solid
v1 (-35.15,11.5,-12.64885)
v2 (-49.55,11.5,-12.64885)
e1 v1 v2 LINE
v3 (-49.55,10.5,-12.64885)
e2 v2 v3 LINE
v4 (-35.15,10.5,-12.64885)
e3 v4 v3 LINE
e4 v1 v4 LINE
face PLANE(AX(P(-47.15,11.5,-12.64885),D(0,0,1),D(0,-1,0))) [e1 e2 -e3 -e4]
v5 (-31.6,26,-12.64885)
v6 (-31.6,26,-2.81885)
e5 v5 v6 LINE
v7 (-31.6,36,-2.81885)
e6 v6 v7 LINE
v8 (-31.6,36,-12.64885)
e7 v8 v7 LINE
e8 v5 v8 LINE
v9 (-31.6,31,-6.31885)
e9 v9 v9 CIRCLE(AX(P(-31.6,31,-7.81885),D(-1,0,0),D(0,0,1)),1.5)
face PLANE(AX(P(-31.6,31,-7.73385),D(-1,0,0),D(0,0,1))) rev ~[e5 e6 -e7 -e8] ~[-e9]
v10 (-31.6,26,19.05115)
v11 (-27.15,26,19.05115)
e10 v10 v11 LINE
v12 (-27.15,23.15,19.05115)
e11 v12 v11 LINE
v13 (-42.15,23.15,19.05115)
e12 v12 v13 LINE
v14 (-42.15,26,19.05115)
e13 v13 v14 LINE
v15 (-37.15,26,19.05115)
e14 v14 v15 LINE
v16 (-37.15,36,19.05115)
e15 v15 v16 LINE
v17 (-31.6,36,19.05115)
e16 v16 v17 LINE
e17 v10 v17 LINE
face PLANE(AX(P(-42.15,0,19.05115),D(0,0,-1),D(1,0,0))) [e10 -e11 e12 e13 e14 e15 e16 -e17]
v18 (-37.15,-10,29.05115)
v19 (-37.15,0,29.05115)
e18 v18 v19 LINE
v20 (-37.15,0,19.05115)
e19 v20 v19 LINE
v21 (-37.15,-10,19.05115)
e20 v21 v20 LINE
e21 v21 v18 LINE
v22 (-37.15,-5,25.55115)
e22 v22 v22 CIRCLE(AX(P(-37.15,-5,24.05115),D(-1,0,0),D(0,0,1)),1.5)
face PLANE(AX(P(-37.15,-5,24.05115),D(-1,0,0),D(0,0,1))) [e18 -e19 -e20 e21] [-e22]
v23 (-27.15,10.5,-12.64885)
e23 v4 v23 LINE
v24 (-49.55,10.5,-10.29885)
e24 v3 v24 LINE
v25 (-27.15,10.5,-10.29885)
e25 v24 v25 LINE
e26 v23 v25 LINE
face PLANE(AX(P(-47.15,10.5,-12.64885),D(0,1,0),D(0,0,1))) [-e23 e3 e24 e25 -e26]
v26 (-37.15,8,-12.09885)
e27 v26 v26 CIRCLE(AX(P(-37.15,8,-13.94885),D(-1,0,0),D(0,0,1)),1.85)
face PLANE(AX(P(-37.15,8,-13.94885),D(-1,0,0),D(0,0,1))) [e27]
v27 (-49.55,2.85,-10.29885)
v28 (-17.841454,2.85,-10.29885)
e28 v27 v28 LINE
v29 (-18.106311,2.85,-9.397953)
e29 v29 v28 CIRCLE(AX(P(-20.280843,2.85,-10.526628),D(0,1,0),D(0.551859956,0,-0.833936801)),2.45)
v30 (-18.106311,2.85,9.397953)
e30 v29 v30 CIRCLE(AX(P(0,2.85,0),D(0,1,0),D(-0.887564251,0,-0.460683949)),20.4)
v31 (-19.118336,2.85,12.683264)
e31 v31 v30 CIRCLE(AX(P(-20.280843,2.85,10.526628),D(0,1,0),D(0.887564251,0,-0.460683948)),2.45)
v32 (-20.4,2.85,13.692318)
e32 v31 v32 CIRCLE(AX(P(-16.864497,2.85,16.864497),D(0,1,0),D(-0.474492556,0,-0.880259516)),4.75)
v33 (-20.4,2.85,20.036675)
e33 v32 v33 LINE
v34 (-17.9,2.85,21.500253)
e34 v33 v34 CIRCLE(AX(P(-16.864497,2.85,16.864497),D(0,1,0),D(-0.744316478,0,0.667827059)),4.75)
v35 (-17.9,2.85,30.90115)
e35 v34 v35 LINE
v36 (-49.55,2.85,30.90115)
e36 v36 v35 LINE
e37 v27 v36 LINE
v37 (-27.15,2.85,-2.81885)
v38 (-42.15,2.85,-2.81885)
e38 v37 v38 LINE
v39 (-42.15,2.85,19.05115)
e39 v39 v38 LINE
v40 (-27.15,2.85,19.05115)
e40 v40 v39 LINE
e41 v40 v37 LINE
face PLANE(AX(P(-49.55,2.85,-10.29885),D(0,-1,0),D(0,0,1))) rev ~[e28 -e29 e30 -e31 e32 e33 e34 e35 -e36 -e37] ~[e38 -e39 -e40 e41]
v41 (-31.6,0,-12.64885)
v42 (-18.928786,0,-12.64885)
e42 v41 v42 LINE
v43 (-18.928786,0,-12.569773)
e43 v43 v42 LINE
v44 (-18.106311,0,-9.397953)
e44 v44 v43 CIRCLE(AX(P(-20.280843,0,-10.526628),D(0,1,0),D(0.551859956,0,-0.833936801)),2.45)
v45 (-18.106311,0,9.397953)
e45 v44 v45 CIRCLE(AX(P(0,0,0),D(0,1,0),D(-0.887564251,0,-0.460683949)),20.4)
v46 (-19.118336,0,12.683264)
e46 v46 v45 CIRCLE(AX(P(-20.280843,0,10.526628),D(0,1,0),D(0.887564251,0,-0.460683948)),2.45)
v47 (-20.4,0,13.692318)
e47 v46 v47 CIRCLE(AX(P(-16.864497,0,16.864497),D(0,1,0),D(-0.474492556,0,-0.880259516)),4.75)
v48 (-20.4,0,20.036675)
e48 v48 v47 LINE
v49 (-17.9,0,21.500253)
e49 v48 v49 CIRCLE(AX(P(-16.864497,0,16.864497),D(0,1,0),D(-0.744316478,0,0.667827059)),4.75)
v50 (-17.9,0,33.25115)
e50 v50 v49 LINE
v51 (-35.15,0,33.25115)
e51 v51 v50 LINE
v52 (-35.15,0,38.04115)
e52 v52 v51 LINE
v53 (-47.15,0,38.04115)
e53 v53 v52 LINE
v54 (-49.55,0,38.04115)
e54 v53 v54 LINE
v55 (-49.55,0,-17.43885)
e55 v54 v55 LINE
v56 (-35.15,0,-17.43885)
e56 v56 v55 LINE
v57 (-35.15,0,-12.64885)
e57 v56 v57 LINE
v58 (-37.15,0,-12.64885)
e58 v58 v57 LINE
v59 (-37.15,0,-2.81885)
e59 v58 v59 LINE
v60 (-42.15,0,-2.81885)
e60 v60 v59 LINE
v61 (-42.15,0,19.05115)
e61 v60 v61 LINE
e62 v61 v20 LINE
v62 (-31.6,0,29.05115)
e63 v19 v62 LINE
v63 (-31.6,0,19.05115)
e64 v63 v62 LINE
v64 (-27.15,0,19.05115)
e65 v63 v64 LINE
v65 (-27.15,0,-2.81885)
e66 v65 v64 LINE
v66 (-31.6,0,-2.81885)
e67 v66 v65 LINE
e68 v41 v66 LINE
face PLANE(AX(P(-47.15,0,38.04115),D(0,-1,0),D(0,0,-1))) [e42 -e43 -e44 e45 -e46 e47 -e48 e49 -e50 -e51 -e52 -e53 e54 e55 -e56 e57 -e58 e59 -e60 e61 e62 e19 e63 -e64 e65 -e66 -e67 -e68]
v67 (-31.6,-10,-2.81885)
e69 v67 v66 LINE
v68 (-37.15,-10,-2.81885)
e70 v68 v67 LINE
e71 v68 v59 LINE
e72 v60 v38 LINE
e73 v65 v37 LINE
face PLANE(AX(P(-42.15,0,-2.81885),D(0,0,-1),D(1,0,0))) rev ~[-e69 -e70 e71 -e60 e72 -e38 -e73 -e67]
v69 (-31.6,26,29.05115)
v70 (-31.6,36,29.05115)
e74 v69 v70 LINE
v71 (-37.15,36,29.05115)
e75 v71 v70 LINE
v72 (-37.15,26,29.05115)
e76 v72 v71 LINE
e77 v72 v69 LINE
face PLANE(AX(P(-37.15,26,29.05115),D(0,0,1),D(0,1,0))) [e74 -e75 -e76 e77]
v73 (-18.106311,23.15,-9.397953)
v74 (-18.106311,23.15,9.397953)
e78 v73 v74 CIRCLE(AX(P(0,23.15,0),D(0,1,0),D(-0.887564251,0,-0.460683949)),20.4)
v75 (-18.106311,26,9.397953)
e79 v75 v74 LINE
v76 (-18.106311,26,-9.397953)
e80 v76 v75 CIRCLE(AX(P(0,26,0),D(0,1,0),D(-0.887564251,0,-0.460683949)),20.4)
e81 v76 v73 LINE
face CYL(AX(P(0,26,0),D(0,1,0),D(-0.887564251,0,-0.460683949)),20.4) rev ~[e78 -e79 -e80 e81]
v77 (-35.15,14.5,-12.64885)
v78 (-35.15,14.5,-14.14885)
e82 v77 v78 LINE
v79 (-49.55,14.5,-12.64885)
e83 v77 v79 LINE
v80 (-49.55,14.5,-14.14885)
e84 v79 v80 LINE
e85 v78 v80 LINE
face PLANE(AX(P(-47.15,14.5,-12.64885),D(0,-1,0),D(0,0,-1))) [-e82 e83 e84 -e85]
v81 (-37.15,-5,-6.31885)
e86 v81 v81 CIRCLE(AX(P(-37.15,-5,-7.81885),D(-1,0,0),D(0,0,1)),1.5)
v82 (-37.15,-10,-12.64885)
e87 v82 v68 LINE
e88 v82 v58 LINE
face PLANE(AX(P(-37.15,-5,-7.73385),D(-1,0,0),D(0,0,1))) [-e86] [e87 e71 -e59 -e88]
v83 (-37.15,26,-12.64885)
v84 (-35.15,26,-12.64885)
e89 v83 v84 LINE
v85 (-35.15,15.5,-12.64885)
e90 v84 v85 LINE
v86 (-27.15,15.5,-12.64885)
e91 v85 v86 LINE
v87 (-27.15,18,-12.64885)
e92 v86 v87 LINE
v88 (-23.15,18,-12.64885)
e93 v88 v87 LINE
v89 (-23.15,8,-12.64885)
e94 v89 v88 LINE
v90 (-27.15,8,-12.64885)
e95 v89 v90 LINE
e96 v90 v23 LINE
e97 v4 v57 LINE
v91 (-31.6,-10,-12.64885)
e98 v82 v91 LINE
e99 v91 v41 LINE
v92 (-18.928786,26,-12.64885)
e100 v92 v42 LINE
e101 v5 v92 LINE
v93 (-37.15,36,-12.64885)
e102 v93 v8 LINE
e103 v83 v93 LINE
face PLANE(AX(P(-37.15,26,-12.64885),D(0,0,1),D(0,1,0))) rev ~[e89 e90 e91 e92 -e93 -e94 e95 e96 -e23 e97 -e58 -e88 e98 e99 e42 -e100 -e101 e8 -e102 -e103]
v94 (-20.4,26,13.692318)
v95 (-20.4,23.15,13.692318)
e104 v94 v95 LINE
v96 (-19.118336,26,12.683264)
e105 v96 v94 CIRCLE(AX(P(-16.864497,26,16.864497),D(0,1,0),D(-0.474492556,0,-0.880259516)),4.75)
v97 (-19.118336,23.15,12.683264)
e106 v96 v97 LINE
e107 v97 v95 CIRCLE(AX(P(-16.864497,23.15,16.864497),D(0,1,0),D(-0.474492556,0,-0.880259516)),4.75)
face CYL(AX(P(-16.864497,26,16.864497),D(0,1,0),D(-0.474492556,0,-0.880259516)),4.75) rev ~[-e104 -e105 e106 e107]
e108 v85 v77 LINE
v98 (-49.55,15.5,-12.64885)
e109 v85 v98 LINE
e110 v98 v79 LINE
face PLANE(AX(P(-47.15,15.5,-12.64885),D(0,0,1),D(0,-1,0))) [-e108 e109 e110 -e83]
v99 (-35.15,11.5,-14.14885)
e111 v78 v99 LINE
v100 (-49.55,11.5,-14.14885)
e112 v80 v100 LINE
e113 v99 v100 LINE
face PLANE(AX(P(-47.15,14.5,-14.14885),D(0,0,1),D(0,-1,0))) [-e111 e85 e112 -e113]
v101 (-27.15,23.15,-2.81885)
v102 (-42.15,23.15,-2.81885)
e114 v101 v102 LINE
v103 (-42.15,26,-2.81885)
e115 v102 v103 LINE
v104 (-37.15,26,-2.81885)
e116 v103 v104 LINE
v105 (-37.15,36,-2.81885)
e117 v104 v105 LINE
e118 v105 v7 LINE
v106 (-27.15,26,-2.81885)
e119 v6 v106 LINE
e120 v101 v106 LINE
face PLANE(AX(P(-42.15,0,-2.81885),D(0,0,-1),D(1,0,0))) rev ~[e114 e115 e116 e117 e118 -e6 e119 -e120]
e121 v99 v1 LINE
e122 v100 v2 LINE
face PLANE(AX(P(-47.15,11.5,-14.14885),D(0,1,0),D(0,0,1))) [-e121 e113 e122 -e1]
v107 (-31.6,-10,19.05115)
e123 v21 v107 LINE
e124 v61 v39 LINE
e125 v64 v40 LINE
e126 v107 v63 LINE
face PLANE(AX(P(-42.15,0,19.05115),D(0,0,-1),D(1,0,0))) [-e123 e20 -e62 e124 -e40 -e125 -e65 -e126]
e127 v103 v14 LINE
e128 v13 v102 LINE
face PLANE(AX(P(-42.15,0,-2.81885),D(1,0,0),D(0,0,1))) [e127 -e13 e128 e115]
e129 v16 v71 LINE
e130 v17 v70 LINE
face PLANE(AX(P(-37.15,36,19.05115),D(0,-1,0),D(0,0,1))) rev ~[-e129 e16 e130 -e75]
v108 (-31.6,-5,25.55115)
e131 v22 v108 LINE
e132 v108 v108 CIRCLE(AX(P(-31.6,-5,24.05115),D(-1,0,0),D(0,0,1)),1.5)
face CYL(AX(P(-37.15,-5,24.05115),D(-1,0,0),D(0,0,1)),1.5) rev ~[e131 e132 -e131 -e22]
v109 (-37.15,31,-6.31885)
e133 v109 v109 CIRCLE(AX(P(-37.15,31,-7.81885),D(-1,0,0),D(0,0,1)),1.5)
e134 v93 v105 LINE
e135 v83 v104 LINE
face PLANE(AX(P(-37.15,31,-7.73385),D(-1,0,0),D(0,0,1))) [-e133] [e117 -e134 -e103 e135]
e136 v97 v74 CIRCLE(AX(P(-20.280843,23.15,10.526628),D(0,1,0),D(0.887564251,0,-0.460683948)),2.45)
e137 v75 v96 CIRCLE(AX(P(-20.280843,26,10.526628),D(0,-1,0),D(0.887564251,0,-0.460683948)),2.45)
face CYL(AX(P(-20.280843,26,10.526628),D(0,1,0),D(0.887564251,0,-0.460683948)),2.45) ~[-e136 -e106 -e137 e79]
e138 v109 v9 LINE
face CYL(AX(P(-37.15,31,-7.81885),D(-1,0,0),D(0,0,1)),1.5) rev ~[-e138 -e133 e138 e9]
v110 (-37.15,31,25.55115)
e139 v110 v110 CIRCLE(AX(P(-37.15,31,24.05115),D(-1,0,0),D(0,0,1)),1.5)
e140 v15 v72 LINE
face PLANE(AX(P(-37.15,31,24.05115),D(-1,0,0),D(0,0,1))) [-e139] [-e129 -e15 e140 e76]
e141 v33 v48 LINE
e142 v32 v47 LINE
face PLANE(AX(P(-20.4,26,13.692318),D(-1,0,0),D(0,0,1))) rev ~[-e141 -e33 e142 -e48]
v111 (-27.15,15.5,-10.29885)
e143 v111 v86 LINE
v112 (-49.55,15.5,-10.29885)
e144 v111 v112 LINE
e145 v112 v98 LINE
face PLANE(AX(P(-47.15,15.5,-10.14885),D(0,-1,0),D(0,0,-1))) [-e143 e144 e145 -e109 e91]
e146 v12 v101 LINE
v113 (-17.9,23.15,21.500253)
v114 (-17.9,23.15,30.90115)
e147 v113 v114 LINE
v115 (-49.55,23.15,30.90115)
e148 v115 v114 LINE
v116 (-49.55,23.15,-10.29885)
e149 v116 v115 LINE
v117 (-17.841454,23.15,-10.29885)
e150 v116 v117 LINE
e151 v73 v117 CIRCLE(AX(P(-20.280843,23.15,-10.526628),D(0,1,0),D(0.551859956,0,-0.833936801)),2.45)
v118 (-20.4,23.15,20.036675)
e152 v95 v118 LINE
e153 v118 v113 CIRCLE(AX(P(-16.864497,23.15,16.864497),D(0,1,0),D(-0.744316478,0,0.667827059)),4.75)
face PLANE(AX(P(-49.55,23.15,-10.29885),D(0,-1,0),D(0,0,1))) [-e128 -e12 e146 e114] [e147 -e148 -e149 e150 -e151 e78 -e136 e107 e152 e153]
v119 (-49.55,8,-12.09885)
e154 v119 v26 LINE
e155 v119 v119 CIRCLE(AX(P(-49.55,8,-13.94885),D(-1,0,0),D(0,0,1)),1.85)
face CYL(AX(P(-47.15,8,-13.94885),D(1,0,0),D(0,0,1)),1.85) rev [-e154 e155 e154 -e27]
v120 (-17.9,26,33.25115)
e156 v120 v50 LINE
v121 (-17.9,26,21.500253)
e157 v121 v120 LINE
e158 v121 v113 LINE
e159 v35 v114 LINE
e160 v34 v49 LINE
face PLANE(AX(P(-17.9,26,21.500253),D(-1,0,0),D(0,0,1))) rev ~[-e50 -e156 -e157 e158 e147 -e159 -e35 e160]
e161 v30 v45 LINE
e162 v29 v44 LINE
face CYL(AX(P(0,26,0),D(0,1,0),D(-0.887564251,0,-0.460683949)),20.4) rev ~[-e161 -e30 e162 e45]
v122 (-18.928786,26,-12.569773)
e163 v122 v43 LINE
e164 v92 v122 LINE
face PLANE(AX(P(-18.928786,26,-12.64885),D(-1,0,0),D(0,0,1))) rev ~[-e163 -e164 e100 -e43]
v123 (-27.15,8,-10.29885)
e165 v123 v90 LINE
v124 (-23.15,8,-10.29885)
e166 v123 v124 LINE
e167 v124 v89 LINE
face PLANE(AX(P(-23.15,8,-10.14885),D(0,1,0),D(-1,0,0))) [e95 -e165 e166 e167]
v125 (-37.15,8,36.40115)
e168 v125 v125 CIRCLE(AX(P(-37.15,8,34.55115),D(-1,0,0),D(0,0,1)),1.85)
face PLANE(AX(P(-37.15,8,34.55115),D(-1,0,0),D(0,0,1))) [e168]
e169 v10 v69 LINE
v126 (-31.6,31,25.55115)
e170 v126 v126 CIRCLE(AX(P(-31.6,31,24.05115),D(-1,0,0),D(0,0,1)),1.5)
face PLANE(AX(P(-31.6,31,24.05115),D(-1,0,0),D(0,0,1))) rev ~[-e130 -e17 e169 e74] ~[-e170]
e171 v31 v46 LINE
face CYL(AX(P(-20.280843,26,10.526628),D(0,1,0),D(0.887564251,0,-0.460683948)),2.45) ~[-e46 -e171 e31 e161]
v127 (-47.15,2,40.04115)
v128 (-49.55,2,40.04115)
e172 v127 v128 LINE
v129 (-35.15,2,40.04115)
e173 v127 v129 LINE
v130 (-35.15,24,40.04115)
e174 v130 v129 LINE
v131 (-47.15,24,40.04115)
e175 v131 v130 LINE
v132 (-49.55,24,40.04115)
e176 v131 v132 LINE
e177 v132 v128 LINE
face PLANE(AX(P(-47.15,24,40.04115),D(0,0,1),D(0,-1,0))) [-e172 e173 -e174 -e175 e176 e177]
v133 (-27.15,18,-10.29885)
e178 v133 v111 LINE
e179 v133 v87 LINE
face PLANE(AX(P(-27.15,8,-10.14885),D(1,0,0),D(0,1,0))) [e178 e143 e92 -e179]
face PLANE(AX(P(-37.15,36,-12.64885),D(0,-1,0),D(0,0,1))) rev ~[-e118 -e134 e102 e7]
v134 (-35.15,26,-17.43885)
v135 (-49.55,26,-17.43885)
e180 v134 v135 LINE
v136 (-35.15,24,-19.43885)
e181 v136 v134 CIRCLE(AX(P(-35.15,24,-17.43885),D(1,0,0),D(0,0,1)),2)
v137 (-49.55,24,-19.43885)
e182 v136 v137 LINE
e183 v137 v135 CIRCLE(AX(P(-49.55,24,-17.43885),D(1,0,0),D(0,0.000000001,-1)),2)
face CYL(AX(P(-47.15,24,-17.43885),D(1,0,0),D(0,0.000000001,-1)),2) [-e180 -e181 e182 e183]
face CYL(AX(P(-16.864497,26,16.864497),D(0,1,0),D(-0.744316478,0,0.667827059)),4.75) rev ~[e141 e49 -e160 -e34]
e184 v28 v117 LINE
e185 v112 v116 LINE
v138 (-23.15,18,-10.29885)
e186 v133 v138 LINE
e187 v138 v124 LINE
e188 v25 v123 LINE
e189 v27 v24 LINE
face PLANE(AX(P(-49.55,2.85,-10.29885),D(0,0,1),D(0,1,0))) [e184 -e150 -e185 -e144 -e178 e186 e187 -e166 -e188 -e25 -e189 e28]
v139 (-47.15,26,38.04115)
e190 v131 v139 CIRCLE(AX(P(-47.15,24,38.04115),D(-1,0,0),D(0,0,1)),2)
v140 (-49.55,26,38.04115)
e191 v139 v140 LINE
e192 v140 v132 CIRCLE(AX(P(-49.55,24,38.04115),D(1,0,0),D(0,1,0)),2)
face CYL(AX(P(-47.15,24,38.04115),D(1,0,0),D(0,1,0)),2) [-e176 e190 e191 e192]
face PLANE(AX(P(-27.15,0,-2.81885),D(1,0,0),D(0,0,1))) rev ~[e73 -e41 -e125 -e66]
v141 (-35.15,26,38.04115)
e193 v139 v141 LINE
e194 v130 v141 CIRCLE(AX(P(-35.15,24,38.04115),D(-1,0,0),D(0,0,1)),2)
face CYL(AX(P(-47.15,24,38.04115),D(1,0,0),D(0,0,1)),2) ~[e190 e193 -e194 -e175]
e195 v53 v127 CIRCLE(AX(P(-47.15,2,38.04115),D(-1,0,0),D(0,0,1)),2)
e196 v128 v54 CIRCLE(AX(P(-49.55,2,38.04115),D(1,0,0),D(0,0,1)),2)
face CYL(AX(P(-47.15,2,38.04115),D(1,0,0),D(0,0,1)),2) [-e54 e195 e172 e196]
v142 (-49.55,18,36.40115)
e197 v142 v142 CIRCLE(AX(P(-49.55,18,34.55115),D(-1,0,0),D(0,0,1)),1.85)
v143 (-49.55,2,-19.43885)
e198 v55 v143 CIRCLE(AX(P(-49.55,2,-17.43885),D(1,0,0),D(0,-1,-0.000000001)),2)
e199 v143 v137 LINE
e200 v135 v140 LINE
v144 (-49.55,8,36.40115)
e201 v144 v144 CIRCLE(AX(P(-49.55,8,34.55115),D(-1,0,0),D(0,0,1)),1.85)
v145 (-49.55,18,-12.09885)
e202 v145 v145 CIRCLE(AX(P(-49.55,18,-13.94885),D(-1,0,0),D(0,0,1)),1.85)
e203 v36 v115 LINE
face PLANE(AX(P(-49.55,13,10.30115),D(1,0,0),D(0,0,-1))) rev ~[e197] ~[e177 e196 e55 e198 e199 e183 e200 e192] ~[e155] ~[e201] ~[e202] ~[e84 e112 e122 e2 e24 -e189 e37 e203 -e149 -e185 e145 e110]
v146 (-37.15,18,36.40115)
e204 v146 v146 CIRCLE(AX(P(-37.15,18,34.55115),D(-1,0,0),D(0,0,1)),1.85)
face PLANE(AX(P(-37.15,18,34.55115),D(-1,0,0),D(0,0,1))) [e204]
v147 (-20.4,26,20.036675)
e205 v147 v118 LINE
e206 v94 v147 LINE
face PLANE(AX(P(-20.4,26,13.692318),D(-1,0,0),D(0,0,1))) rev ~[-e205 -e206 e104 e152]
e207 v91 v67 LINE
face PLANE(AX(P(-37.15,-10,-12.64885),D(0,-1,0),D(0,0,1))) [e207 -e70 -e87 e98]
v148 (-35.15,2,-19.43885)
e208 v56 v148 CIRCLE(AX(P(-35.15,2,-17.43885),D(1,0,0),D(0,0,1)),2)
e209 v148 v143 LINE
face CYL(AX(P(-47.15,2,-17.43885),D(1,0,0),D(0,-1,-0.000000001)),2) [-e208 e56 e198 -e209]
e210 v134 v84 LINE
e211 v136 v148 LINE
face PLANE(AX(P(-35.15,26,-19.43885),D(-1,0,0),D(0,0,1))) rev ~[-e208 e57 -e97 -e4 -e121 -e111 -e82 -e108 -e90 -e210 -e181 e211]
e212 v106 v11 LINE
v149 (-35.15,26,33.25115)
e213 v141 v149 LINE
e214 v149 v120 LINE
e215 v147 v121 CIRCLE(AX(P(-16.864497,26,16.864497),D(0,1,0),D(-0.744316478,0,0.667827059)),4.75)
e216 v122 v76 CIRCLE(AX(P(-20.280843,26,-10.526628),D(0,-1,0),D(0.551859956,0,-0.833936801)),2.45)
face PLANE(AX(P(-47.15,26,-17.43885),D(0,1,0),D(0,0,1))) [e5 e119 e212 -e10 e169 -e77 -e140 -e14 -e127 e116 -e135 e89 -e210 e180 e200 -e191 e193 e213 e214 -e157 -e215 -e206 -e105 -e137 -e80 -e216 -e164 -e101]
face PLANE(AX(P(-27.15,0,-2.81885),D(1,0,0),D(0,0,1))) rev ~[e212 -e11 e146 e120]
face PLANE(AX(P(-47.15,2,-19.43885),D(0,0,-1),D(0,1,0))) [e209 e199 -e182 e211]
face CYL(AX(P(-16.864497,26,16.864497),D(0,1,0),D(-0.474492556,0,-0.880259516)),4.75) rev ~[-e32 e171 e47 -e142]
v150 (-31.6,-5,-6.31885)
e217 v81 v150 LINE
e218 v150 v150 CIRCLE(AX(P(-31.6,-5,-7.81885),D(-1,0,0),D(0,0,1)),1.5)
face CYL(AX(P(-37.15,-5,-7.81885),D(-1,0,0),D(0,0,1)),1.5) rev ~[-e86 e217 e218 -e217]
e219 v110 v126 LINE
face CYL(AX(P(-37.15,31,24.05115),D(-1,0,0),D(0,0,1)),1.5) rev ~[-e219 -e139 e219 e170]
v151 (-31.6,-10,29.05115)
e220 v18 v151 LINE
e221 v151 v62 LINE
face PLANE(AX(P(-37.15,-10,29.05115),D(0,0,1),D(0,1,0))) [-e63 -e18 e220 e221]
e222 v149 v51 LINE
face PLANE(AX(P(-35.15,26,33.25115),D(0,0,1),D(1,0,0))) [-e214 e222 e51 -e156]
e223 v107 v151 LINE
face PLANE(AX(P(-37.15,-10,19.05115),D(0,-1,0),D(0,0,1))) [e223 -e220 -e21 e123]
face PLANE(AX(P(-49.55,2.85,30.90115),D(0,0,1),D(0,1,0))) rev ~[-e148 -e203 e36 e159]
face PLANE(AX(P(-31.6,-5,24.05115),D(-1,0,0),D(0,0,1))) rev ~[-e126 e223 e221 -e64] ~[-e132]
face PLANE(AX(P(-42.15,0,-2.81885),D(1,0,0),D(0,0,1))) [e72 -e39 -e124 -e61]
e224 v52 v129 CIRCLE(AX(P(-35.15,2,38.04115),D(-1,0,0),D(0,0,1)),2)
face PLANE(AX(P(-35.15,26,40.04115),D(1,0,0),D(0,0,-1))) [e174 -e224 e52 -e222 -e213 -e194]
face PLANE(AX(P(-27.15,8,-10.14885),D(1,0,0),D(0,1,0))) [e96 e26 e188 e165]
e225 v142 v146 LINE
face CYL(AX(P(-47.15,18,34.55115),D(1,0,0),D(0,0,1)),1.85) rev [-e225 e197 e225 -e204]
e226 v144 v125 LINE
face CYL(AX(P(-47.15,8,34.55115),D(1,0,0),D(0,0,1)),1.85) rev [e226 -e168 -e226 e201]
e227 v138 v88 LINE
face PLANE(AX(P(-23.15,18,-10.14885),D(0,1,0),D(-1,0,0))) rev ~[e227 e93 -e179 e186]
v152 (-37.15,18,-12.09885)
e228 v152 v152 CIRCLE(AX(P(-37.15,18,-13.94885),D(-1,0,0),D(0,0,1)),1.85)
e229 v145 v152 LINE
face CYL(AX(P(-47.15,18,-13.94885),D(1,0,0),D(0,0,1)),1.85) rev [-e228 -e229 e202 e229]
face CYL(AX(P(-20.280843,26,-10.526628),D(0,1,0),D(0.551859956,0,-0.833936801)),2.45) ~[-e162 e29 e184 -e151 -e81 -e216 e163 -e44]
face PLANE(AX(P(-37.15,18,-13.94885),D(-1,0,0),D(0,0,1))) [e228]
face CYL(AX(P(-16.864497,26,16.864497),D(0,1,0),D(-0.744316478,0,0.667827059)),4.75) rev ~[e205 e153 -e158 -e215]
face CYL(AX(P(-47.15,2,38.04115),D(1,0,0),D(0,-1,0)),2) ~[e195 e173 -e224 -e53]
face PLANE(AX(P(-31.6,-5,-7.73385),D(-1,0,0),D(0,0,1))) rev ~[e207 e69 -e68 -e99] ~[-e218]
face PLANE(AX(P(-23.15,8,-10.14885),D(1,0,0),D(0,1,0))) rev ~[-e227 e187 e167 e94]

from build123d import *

# Parameters (mm, degrees)
EXTRUDE_1_DEPTH          = 3
PATTERN_LINEAR_2_COUNT   = 2
PATTERN_LINEAR_2_PITCH   = 23
EXTRUDE_2_DEPTH          = 26
SKETCH_3_R               = 1.85
CUT_EXTRUDE_1_DEPTH      = 10
CUT_EXTRUDE_2_DEPTH      = 24
CUT_EXTRUDE_START        = -2.5
SKETCH_5_W               = 4
SKETCH_5_H               = 10
CUT_EXTRUDE_3_DEPTH      = 2.5
FILLET_3_R               = 2
EXTRUDE_START            = -10
SKETCH_7_W               = 9.83
SKETCH_7_H               = 10
SKETCH_7_W_2             = 10
EXTRUDE_4_DEPTH          = 5.55
CUT_EXTRUDE_4_REACH      = 21.469
SKETCH_8_R               = 1.5
SKETCH_10_W              = 15
SKETCH_10_H              = 21.87
CUT_EXTRUDE_5_DEPTH      = 37
CUT_EXTRUDE_6_DEPTH      = 11
CUT_EXTRUDE_6_DEPTH_BACK = 37
SKETCH_12_R              = 1.85
EXTRUDE_5_DEPTH          = 2.4
SKETCH_13_W              = 10.554856858
SKETCH_13_H              = 20
CUT_EXTRUDE_7_DEPTH      = 3.419156865
SKETCH_14_W              = 41.2
SKETCH_14_H              = 20.3
CUT_EXTRUDE_8_DEPTH      = 32.719156865


with BuildPart() as part:
    # Эскиз1 → Бобышка-Вытянуть1 (new body)
    with BuildSketch(Plane(origin=(0, 0, 0), x_dir=(1, 0, 0), z_dir=(0, 1, 0))):
        with BuildLine():
            Line((-47.15, 10.148849956), (-17.708435007, 10.148849956))
            ThreePointArc((-17.708435007, 10.148849956), (-17.806599121, 9.727806242), (-17.973176083, 9.328849956))
            ThreePointArc((-17.973176083, 9.328849956), (-20.25, 0), (-17.973176083, -9.328849956))
            ThreePointArc((-17.973176083, -9.328849956), (-17.79606457, -11.292053253), (-19.04716249, -12.815302961))
            ThreePointArc((-19.04716249, -12.815302961), (-19.687557209, -13.232647403), (-20.25, -13.750276505))
            Line((-20.25, -13.750276505), (-20.25, -30.751150044))
            Line((-20.25, -30.751150044), (-47.15, -30.751150044))
            Line((-47.15, -30.751150044), (-47.15, 10.148849956))
        make_face()
    extrude(amount=EXTRUDE_1_DEPTH)


with BuildPart() as pattern_linear_2_1:
    # Линейный массив2: pattern copy
    add(part.part.moved(Location(Vector(0, 1, 0) * (1 * PATTERN_LINEAR_2_PITCH))))


with BuildPart() as part_1:
    add(part.part)

    add(pattern_linear_2_1.part)  # Бобышка-Вытянуть2 merges Линейный массив2_1
    # Эскиз2 → Бобышка-Вытянуть2 (add, through all)
    with BuildSketch(Plane(origin=(0, 26, 0), x_dir=(1, 0, 0), z_dir=(0, 1, 0))):
        with BuildLine():
            ThreePointArc((-18.778786242, 12.648849956), (-17.890693286, 11.549948159), (-17.708435007, 10.148849956))
            Line((-17.708435007, 10.148849956), (-47.15, 10.148849956))
            Line((-47.15, 10.148849956), (-47.15, 19.438849956))
            Line((-47.15, 19.438849956), (-35.15, 19.438849956))
            Line((-35.15, 19.438849956), (-35.15, 12.648849956))
            Line((-35.15, 12.648849956), (-18.778786242, 12.648849956))
        make_face()
        with BuildLine():
            Line((-20.25, -19.978716958), (-20.25, -30.751150044))
            Line((-20.25, -30.751150044), (-47.15, -30.751150044))
            Line((-47.15, -30.751150044), (-47.15, -40.041150044))
            Line((-47.15, -40.041150044), (-35.15, -40.041150044))
            Line((-35.15, -40.041150044), (-35.15, -33.251150044))
            Line((-35.15, -33.251150044), (-17.75, -33.251150044))
            Line((-17.75, -33.251150044), (-17.75, -21.378462168))
            ThreePointArc((-17.75, -21.378462168), (-19.111760818, -20.878198779), (-20.25, -19.978716958))
        make_face()
    extrude(amount=-EXTRUDE_2_DEPTH)

    # Эскиз3 → Вырез-Вытянуть1 (cut)
    with BuildSketch(Plane.ZY.offset(47.15)):
        with Locations((-13.948849956, 8)):
            Circle(SKETCH_3_R)
        with Locations((-13.948849956, 18)):
            Circle(SKETCH_3_R)
        with Locations((34.551150044, 18)):
            Circle(SKETCH_3_R)
        with Locations((34.551150044, 8)):
            Circle(SKETCH_3_R)
    extrude(amount=-CUT_EXTRUDE_1_DEPTH, mode=Mode.SUBTRACT)

    # Эскиз4 → Вырез-Вытянуть2 (cut)
    with BuildSketch(Plane.ZY.offset(47.15)):
        Polygon((-10.148849956, 15.5), (-12.648849956, 15.5), (-12.648849956, 14.5), (-14.148849956, 14.5), (-14.148849956, 11.5), (-12.648849956, 11.5), (-12.648849956, 10.5), (-10.148849956, 10.5), align=None)
    extrude(amount=-CUT_EXTRUDE_2_DEPTH, mode=Mode.SUBTRACT)

    # Эскиз5 → Вырез-Вытянуть3 (cut)
    with BuildSketch(Plane(origin=(0, 0, -12.648849956), x_dir=(-1, 0, 0), z_dir=(0, 0, -1)).offset(CUT_EXTRUDE_START)):
        with Locations((25.15, 13)):
            Rectangle(SKETCH_5_W, SKETCH_5_H)
    extrude(amount=CUT_EXTRUDE_3_DEPTH, mode=Mode.SUBTRACT)

    # Скругление3
    fillet_3_edges = [part_1.edges().sort_by_distance(p)[0] for p in [
        (-41.15, 26, -19.438849956),
        (-41.15, 0, -19.438849956),
        (-41.15, 0, 40.041150044),
        (-41.15, 26, 40.041150044),
    ]]
    fillet(fillet_3_edges, radius=FILLET_3_R)

    # Эскиз7 → Бобышка-Вытянуть4 (add)
    with BuildSketch(Plane.ZY.offset(47.15).offset(EXTRUDE_START)):
        with Locations((-7.733849956, 31)):
            Rectangle(SKETCH_7_W, SKETCH_7_H)
        with Locations((24.051150044, 31)):
            Rectangle(SKETCH_7_W_2, SKETCH_7_H)
        with Locations((-7.733849956, -5)):
            Rectangle(SKETCH_7_W, SKETCH_7_H)
        with Locations((24.051150044, -5)):
            Rectangle(SKETCH_7_W_2, SKETCH_7_H)
    extrude(amount=-EXTRUDE_4_DEPTH)

    # Эскиз8 → Вырез-Вытянуть4 (cut, up to next)
    with BuildSketch(Plane.ZY.offset(37.15), mode=Mode.PRIVATE) as cut_extrude_4_sk1:
        with Locations((-7.818849956, -5)):
            Circle(SKETCH_8_R)
    cut_extrude_4_tool1 = extrude(cut_extrude_4_sk1.sketch, amount=-CUT_EXTRUDE_4_REACH, mode=Mode.PRIVATE) & part_1.part
    add(cut_extrude_4_tool1.solids().sort_by_distance((-37.15, -5, -7.81885))[0], mode=Mode.SUBTRACT)
    # Эскиз8 → Вырез-Вытянуть4 (cut, up to next)
    with BuildSketch(Plane.ZY.offset(37.15), mode=Mode.PRIVATE) as cut_extrude_4_sk2:
        with Locations((-7.818849956, 31)):
            Circle(SKETCH_8_R)
    cut_extrude_4_tool2 = extrude(cut_extrude_4_sk2.sketch, amount=-CUT_EXTRUDE_4_REACH, mode=Mode.PRIVATE) & part_1.part
    add(cut_extrude_4_tool2.solids().sort_by_distance((-37.15, 31, -7.81885))[0], mode=Mode.SUBTRACT)
    # Эскиз8 → Вырез-Вытянуть4 (cut, up to next)
    with BuildSketch(Plane.ZY.offset(37.15), mode=Mode.PRIVATE) as cut_extrude_4_sk3:
        with Locations((24.051150044, 31)):
            Circle(SKETCH_8_R)
    cut_extrude_4_tool3 = extrude(cut_extrude_4_sk3.sketch, amount=-CUT_EXTRUDE_4_REACH, mode=Mode.PRIVATE) & part_1.part
    add(cut_extrude_4_tool3.solids().sort_by_distance((-37.15, 31, 24.05115))[0], mode=Mode.SUBTRACT)
    # Эскиз8 → Вырез-Вытянуть4 (cut, up to next)
    with BuildSketch(Plane.ZY.offset(37.15), mode=Mode.PRIVATE) as cut_extrude_4_sk4:
        with Locations((24.051150044, -5)):
            Circle(SKETCH_8_R)
    cut_extrude_4_tool4 = extrude(cut_extrude_4_sk4.sketch, amount=-CUT_EXTRUDE_4_REACH, mode=Mode.PRIVATE) & part_1.part
    add(cut_extrude_4_tool4.solids().sort_by_distance((-37.15, -5, 24.05115))[0], mode=Mode.SUBTRACT)

    # Эскиз10 → Вырез-Вытянуть5 (cut, through all)
    with BuildSketch(Plane.XZ):
        with Locations((-34.65, 8.116150044)):
            Rectangle(SKETCH_10_W, SKETCH_10_H)
    extrude(amount=-CUT_EXTRUDE_5_DEPTH, mode=Mode.SUBTRACT)

    # Эскиз11 → Вырез-Вытянуть6 (cut, two sides)
    with BuildSketch(Plane(origin=(0, 26, 0), x_dir=(1, 0, 0), z_dir=(0, 1, 0))) as cut_extrude_6_sk:
        with BuildLine():
            Line((-17.75, -33.251150044), (-17.75, -21.378462168))
            ThreePointArc((-17.75, -21.378462168), (-19.111760818, -20.878198779), (-20.25, -19.978716958))
            Line((-20.25, -19.978716958), (-20.25, -13.750276505))
            ThreePointArc((-20.25, -13.750276505), (-19.687557209, -13.232647403), (-19.04716249, -12.815302961))
            ThreePointArc((-19.04716249, -12.815302961), (-17.79606457, -11.292053253), (-17.973176083, -9.328849956))
            ThreePointArc((-17.973176083, -9.328849956), (-20.25, 0), (-17.973176083, 9.328849956))
            ThreePointArc((-17.973176083, 9.328849956), (-17.754165646, 11.139735768), (-18.778786242, 12.648849956))
            Line((-18.778786242, 12.648849956), (-18.928786242, 12.648849956))
            Line((-18.928786242, 12.648849956), (-18.928786242, 12.569773384))
            ThreePointArc((-18.928786242, 12.569773384), (-17.909278274, 11.141591723), (-18.10631072, 9.397952548))
            ThreePointArc((-18.10631072, 9.397952548), (-20.4, 0), (-18.10631072, -9.397952548))
            ThreePointArc((-18.10631072, -9.397952548), (-17.939417179, -11.247894117), (-19.118336373, -12.683264034))
            ThreePointArc((-19.118336373, -12.683264034), (-19.80280754, -13.132362008), (-20.4, -13.6923182))
            Line((-20.4, -13.6923182), (-20.4, -20.036675263))
            ThreePointArc((-20.4, -20.036675263), (-19.264296699, -20.963699107), (-17.9, -21.500252655))
            Line((-17.9, -21.500252655), (-17.9, -33.251150044))
            Line((-17.9, -33.251150044), (-17.75, -33.251150044))
        make_face()
    extrude(amount=CUT_EXTRUDE_6_DEPTH, mode=Mode.SUBTRACT)
    extrude(cut_extrude_6_sk.sketch, amount=-CUT_EXTRUDE_6_DEPTH_BACK, mode=Mode.SUBTRACT)

    # Эскиз12 → Бобышка-Вытянуть5 (add)
    with BuildSketch(Plane.ZY.offset(47.15)):
        with BuildLine():
            Line((-17.438849956, 26), (38.041150044, 26))
            ThreePointArc((38.041150044, 26), (39.455363607, 25.414213562), (40.041150044, 24))
            Line((40.041150044, 24), (40.041150044, 2))
            ThreePointArc((40.041150044, 2), (39.455363607, 0.585786438), (38.041150044, 0))
            Line((38.041150044, 0), (-17.438849956, 0))
            ThreePointArc((-17.438849956, 0), (-18.853063518, 0.585786438), (-19.438849956, 2))
            Line((-19.438849956, 2), (-19.438849956, 24))
            ThreePointArc((-19.438849956, 24), (-18.853063518, 25.414213562), (-17.438849956, 26))
        make_face()
        with Locations((34.551150044, 18)):
            Circle(SKETCH_12_R, mode=Mode.SUBTRACT)
        with Locations((-13.948849956, 18)):
            Circle(SKETCH_12_R, mode=Mode.SUBTRACT)
        with Locations((-13.948849956, 8)):
            Circle(SKETCH_12_R, mode=Mode.SUBTRACT)
        with Locations((34.551150044, 8)):
            Circle(SKETCH_12_R, mode=Mode.SUBTRACT)
        Polygon((-10.148849956, 23), (-10.148849956, 15.5), (-12.648849956, 15.5), (-12.648849956, 14.5), (-14.148849956, 14.5), (-14.148849956, 11.5), (-12.648849956, 11.5), (-12.648849956, 10.5), (-10.148849956, 10.5), (-10.148849956, 3), (30.751150044, 3), (30.751150044, 23), align=None, mode=Mode.SUBTRACT)
    extrude(amount=EXTRUDE_5_DEPTH)

    # Эскиз13 → Вырез-Вытянуть7 (cut, through all)
    with BuildSketch(Plane.ZY.offset(20.25)):
        with Locations((25.473721615, 13)):
            Rectangle(SKETCH_13_W, SKETCH_13_H)
    extrude(amount=-CUT_EXTRUDE_7_DEPTH, mode=Mode.SUBTRACT)

    # Эскиз14 → Вырез-Вытянуть8 (cut, through all)
    with BuildSketch(Plane.ZY.offset(49.55)):
        with Locations((10.301150044, 13)):
            Rectangle(SKETCH_14_W, SKETCH_14_H)
    extrude(amount=-CUT_EXTRUDE_8_DEPTH, mode=Mode.SUBTRACT)


solid = part_1.part
